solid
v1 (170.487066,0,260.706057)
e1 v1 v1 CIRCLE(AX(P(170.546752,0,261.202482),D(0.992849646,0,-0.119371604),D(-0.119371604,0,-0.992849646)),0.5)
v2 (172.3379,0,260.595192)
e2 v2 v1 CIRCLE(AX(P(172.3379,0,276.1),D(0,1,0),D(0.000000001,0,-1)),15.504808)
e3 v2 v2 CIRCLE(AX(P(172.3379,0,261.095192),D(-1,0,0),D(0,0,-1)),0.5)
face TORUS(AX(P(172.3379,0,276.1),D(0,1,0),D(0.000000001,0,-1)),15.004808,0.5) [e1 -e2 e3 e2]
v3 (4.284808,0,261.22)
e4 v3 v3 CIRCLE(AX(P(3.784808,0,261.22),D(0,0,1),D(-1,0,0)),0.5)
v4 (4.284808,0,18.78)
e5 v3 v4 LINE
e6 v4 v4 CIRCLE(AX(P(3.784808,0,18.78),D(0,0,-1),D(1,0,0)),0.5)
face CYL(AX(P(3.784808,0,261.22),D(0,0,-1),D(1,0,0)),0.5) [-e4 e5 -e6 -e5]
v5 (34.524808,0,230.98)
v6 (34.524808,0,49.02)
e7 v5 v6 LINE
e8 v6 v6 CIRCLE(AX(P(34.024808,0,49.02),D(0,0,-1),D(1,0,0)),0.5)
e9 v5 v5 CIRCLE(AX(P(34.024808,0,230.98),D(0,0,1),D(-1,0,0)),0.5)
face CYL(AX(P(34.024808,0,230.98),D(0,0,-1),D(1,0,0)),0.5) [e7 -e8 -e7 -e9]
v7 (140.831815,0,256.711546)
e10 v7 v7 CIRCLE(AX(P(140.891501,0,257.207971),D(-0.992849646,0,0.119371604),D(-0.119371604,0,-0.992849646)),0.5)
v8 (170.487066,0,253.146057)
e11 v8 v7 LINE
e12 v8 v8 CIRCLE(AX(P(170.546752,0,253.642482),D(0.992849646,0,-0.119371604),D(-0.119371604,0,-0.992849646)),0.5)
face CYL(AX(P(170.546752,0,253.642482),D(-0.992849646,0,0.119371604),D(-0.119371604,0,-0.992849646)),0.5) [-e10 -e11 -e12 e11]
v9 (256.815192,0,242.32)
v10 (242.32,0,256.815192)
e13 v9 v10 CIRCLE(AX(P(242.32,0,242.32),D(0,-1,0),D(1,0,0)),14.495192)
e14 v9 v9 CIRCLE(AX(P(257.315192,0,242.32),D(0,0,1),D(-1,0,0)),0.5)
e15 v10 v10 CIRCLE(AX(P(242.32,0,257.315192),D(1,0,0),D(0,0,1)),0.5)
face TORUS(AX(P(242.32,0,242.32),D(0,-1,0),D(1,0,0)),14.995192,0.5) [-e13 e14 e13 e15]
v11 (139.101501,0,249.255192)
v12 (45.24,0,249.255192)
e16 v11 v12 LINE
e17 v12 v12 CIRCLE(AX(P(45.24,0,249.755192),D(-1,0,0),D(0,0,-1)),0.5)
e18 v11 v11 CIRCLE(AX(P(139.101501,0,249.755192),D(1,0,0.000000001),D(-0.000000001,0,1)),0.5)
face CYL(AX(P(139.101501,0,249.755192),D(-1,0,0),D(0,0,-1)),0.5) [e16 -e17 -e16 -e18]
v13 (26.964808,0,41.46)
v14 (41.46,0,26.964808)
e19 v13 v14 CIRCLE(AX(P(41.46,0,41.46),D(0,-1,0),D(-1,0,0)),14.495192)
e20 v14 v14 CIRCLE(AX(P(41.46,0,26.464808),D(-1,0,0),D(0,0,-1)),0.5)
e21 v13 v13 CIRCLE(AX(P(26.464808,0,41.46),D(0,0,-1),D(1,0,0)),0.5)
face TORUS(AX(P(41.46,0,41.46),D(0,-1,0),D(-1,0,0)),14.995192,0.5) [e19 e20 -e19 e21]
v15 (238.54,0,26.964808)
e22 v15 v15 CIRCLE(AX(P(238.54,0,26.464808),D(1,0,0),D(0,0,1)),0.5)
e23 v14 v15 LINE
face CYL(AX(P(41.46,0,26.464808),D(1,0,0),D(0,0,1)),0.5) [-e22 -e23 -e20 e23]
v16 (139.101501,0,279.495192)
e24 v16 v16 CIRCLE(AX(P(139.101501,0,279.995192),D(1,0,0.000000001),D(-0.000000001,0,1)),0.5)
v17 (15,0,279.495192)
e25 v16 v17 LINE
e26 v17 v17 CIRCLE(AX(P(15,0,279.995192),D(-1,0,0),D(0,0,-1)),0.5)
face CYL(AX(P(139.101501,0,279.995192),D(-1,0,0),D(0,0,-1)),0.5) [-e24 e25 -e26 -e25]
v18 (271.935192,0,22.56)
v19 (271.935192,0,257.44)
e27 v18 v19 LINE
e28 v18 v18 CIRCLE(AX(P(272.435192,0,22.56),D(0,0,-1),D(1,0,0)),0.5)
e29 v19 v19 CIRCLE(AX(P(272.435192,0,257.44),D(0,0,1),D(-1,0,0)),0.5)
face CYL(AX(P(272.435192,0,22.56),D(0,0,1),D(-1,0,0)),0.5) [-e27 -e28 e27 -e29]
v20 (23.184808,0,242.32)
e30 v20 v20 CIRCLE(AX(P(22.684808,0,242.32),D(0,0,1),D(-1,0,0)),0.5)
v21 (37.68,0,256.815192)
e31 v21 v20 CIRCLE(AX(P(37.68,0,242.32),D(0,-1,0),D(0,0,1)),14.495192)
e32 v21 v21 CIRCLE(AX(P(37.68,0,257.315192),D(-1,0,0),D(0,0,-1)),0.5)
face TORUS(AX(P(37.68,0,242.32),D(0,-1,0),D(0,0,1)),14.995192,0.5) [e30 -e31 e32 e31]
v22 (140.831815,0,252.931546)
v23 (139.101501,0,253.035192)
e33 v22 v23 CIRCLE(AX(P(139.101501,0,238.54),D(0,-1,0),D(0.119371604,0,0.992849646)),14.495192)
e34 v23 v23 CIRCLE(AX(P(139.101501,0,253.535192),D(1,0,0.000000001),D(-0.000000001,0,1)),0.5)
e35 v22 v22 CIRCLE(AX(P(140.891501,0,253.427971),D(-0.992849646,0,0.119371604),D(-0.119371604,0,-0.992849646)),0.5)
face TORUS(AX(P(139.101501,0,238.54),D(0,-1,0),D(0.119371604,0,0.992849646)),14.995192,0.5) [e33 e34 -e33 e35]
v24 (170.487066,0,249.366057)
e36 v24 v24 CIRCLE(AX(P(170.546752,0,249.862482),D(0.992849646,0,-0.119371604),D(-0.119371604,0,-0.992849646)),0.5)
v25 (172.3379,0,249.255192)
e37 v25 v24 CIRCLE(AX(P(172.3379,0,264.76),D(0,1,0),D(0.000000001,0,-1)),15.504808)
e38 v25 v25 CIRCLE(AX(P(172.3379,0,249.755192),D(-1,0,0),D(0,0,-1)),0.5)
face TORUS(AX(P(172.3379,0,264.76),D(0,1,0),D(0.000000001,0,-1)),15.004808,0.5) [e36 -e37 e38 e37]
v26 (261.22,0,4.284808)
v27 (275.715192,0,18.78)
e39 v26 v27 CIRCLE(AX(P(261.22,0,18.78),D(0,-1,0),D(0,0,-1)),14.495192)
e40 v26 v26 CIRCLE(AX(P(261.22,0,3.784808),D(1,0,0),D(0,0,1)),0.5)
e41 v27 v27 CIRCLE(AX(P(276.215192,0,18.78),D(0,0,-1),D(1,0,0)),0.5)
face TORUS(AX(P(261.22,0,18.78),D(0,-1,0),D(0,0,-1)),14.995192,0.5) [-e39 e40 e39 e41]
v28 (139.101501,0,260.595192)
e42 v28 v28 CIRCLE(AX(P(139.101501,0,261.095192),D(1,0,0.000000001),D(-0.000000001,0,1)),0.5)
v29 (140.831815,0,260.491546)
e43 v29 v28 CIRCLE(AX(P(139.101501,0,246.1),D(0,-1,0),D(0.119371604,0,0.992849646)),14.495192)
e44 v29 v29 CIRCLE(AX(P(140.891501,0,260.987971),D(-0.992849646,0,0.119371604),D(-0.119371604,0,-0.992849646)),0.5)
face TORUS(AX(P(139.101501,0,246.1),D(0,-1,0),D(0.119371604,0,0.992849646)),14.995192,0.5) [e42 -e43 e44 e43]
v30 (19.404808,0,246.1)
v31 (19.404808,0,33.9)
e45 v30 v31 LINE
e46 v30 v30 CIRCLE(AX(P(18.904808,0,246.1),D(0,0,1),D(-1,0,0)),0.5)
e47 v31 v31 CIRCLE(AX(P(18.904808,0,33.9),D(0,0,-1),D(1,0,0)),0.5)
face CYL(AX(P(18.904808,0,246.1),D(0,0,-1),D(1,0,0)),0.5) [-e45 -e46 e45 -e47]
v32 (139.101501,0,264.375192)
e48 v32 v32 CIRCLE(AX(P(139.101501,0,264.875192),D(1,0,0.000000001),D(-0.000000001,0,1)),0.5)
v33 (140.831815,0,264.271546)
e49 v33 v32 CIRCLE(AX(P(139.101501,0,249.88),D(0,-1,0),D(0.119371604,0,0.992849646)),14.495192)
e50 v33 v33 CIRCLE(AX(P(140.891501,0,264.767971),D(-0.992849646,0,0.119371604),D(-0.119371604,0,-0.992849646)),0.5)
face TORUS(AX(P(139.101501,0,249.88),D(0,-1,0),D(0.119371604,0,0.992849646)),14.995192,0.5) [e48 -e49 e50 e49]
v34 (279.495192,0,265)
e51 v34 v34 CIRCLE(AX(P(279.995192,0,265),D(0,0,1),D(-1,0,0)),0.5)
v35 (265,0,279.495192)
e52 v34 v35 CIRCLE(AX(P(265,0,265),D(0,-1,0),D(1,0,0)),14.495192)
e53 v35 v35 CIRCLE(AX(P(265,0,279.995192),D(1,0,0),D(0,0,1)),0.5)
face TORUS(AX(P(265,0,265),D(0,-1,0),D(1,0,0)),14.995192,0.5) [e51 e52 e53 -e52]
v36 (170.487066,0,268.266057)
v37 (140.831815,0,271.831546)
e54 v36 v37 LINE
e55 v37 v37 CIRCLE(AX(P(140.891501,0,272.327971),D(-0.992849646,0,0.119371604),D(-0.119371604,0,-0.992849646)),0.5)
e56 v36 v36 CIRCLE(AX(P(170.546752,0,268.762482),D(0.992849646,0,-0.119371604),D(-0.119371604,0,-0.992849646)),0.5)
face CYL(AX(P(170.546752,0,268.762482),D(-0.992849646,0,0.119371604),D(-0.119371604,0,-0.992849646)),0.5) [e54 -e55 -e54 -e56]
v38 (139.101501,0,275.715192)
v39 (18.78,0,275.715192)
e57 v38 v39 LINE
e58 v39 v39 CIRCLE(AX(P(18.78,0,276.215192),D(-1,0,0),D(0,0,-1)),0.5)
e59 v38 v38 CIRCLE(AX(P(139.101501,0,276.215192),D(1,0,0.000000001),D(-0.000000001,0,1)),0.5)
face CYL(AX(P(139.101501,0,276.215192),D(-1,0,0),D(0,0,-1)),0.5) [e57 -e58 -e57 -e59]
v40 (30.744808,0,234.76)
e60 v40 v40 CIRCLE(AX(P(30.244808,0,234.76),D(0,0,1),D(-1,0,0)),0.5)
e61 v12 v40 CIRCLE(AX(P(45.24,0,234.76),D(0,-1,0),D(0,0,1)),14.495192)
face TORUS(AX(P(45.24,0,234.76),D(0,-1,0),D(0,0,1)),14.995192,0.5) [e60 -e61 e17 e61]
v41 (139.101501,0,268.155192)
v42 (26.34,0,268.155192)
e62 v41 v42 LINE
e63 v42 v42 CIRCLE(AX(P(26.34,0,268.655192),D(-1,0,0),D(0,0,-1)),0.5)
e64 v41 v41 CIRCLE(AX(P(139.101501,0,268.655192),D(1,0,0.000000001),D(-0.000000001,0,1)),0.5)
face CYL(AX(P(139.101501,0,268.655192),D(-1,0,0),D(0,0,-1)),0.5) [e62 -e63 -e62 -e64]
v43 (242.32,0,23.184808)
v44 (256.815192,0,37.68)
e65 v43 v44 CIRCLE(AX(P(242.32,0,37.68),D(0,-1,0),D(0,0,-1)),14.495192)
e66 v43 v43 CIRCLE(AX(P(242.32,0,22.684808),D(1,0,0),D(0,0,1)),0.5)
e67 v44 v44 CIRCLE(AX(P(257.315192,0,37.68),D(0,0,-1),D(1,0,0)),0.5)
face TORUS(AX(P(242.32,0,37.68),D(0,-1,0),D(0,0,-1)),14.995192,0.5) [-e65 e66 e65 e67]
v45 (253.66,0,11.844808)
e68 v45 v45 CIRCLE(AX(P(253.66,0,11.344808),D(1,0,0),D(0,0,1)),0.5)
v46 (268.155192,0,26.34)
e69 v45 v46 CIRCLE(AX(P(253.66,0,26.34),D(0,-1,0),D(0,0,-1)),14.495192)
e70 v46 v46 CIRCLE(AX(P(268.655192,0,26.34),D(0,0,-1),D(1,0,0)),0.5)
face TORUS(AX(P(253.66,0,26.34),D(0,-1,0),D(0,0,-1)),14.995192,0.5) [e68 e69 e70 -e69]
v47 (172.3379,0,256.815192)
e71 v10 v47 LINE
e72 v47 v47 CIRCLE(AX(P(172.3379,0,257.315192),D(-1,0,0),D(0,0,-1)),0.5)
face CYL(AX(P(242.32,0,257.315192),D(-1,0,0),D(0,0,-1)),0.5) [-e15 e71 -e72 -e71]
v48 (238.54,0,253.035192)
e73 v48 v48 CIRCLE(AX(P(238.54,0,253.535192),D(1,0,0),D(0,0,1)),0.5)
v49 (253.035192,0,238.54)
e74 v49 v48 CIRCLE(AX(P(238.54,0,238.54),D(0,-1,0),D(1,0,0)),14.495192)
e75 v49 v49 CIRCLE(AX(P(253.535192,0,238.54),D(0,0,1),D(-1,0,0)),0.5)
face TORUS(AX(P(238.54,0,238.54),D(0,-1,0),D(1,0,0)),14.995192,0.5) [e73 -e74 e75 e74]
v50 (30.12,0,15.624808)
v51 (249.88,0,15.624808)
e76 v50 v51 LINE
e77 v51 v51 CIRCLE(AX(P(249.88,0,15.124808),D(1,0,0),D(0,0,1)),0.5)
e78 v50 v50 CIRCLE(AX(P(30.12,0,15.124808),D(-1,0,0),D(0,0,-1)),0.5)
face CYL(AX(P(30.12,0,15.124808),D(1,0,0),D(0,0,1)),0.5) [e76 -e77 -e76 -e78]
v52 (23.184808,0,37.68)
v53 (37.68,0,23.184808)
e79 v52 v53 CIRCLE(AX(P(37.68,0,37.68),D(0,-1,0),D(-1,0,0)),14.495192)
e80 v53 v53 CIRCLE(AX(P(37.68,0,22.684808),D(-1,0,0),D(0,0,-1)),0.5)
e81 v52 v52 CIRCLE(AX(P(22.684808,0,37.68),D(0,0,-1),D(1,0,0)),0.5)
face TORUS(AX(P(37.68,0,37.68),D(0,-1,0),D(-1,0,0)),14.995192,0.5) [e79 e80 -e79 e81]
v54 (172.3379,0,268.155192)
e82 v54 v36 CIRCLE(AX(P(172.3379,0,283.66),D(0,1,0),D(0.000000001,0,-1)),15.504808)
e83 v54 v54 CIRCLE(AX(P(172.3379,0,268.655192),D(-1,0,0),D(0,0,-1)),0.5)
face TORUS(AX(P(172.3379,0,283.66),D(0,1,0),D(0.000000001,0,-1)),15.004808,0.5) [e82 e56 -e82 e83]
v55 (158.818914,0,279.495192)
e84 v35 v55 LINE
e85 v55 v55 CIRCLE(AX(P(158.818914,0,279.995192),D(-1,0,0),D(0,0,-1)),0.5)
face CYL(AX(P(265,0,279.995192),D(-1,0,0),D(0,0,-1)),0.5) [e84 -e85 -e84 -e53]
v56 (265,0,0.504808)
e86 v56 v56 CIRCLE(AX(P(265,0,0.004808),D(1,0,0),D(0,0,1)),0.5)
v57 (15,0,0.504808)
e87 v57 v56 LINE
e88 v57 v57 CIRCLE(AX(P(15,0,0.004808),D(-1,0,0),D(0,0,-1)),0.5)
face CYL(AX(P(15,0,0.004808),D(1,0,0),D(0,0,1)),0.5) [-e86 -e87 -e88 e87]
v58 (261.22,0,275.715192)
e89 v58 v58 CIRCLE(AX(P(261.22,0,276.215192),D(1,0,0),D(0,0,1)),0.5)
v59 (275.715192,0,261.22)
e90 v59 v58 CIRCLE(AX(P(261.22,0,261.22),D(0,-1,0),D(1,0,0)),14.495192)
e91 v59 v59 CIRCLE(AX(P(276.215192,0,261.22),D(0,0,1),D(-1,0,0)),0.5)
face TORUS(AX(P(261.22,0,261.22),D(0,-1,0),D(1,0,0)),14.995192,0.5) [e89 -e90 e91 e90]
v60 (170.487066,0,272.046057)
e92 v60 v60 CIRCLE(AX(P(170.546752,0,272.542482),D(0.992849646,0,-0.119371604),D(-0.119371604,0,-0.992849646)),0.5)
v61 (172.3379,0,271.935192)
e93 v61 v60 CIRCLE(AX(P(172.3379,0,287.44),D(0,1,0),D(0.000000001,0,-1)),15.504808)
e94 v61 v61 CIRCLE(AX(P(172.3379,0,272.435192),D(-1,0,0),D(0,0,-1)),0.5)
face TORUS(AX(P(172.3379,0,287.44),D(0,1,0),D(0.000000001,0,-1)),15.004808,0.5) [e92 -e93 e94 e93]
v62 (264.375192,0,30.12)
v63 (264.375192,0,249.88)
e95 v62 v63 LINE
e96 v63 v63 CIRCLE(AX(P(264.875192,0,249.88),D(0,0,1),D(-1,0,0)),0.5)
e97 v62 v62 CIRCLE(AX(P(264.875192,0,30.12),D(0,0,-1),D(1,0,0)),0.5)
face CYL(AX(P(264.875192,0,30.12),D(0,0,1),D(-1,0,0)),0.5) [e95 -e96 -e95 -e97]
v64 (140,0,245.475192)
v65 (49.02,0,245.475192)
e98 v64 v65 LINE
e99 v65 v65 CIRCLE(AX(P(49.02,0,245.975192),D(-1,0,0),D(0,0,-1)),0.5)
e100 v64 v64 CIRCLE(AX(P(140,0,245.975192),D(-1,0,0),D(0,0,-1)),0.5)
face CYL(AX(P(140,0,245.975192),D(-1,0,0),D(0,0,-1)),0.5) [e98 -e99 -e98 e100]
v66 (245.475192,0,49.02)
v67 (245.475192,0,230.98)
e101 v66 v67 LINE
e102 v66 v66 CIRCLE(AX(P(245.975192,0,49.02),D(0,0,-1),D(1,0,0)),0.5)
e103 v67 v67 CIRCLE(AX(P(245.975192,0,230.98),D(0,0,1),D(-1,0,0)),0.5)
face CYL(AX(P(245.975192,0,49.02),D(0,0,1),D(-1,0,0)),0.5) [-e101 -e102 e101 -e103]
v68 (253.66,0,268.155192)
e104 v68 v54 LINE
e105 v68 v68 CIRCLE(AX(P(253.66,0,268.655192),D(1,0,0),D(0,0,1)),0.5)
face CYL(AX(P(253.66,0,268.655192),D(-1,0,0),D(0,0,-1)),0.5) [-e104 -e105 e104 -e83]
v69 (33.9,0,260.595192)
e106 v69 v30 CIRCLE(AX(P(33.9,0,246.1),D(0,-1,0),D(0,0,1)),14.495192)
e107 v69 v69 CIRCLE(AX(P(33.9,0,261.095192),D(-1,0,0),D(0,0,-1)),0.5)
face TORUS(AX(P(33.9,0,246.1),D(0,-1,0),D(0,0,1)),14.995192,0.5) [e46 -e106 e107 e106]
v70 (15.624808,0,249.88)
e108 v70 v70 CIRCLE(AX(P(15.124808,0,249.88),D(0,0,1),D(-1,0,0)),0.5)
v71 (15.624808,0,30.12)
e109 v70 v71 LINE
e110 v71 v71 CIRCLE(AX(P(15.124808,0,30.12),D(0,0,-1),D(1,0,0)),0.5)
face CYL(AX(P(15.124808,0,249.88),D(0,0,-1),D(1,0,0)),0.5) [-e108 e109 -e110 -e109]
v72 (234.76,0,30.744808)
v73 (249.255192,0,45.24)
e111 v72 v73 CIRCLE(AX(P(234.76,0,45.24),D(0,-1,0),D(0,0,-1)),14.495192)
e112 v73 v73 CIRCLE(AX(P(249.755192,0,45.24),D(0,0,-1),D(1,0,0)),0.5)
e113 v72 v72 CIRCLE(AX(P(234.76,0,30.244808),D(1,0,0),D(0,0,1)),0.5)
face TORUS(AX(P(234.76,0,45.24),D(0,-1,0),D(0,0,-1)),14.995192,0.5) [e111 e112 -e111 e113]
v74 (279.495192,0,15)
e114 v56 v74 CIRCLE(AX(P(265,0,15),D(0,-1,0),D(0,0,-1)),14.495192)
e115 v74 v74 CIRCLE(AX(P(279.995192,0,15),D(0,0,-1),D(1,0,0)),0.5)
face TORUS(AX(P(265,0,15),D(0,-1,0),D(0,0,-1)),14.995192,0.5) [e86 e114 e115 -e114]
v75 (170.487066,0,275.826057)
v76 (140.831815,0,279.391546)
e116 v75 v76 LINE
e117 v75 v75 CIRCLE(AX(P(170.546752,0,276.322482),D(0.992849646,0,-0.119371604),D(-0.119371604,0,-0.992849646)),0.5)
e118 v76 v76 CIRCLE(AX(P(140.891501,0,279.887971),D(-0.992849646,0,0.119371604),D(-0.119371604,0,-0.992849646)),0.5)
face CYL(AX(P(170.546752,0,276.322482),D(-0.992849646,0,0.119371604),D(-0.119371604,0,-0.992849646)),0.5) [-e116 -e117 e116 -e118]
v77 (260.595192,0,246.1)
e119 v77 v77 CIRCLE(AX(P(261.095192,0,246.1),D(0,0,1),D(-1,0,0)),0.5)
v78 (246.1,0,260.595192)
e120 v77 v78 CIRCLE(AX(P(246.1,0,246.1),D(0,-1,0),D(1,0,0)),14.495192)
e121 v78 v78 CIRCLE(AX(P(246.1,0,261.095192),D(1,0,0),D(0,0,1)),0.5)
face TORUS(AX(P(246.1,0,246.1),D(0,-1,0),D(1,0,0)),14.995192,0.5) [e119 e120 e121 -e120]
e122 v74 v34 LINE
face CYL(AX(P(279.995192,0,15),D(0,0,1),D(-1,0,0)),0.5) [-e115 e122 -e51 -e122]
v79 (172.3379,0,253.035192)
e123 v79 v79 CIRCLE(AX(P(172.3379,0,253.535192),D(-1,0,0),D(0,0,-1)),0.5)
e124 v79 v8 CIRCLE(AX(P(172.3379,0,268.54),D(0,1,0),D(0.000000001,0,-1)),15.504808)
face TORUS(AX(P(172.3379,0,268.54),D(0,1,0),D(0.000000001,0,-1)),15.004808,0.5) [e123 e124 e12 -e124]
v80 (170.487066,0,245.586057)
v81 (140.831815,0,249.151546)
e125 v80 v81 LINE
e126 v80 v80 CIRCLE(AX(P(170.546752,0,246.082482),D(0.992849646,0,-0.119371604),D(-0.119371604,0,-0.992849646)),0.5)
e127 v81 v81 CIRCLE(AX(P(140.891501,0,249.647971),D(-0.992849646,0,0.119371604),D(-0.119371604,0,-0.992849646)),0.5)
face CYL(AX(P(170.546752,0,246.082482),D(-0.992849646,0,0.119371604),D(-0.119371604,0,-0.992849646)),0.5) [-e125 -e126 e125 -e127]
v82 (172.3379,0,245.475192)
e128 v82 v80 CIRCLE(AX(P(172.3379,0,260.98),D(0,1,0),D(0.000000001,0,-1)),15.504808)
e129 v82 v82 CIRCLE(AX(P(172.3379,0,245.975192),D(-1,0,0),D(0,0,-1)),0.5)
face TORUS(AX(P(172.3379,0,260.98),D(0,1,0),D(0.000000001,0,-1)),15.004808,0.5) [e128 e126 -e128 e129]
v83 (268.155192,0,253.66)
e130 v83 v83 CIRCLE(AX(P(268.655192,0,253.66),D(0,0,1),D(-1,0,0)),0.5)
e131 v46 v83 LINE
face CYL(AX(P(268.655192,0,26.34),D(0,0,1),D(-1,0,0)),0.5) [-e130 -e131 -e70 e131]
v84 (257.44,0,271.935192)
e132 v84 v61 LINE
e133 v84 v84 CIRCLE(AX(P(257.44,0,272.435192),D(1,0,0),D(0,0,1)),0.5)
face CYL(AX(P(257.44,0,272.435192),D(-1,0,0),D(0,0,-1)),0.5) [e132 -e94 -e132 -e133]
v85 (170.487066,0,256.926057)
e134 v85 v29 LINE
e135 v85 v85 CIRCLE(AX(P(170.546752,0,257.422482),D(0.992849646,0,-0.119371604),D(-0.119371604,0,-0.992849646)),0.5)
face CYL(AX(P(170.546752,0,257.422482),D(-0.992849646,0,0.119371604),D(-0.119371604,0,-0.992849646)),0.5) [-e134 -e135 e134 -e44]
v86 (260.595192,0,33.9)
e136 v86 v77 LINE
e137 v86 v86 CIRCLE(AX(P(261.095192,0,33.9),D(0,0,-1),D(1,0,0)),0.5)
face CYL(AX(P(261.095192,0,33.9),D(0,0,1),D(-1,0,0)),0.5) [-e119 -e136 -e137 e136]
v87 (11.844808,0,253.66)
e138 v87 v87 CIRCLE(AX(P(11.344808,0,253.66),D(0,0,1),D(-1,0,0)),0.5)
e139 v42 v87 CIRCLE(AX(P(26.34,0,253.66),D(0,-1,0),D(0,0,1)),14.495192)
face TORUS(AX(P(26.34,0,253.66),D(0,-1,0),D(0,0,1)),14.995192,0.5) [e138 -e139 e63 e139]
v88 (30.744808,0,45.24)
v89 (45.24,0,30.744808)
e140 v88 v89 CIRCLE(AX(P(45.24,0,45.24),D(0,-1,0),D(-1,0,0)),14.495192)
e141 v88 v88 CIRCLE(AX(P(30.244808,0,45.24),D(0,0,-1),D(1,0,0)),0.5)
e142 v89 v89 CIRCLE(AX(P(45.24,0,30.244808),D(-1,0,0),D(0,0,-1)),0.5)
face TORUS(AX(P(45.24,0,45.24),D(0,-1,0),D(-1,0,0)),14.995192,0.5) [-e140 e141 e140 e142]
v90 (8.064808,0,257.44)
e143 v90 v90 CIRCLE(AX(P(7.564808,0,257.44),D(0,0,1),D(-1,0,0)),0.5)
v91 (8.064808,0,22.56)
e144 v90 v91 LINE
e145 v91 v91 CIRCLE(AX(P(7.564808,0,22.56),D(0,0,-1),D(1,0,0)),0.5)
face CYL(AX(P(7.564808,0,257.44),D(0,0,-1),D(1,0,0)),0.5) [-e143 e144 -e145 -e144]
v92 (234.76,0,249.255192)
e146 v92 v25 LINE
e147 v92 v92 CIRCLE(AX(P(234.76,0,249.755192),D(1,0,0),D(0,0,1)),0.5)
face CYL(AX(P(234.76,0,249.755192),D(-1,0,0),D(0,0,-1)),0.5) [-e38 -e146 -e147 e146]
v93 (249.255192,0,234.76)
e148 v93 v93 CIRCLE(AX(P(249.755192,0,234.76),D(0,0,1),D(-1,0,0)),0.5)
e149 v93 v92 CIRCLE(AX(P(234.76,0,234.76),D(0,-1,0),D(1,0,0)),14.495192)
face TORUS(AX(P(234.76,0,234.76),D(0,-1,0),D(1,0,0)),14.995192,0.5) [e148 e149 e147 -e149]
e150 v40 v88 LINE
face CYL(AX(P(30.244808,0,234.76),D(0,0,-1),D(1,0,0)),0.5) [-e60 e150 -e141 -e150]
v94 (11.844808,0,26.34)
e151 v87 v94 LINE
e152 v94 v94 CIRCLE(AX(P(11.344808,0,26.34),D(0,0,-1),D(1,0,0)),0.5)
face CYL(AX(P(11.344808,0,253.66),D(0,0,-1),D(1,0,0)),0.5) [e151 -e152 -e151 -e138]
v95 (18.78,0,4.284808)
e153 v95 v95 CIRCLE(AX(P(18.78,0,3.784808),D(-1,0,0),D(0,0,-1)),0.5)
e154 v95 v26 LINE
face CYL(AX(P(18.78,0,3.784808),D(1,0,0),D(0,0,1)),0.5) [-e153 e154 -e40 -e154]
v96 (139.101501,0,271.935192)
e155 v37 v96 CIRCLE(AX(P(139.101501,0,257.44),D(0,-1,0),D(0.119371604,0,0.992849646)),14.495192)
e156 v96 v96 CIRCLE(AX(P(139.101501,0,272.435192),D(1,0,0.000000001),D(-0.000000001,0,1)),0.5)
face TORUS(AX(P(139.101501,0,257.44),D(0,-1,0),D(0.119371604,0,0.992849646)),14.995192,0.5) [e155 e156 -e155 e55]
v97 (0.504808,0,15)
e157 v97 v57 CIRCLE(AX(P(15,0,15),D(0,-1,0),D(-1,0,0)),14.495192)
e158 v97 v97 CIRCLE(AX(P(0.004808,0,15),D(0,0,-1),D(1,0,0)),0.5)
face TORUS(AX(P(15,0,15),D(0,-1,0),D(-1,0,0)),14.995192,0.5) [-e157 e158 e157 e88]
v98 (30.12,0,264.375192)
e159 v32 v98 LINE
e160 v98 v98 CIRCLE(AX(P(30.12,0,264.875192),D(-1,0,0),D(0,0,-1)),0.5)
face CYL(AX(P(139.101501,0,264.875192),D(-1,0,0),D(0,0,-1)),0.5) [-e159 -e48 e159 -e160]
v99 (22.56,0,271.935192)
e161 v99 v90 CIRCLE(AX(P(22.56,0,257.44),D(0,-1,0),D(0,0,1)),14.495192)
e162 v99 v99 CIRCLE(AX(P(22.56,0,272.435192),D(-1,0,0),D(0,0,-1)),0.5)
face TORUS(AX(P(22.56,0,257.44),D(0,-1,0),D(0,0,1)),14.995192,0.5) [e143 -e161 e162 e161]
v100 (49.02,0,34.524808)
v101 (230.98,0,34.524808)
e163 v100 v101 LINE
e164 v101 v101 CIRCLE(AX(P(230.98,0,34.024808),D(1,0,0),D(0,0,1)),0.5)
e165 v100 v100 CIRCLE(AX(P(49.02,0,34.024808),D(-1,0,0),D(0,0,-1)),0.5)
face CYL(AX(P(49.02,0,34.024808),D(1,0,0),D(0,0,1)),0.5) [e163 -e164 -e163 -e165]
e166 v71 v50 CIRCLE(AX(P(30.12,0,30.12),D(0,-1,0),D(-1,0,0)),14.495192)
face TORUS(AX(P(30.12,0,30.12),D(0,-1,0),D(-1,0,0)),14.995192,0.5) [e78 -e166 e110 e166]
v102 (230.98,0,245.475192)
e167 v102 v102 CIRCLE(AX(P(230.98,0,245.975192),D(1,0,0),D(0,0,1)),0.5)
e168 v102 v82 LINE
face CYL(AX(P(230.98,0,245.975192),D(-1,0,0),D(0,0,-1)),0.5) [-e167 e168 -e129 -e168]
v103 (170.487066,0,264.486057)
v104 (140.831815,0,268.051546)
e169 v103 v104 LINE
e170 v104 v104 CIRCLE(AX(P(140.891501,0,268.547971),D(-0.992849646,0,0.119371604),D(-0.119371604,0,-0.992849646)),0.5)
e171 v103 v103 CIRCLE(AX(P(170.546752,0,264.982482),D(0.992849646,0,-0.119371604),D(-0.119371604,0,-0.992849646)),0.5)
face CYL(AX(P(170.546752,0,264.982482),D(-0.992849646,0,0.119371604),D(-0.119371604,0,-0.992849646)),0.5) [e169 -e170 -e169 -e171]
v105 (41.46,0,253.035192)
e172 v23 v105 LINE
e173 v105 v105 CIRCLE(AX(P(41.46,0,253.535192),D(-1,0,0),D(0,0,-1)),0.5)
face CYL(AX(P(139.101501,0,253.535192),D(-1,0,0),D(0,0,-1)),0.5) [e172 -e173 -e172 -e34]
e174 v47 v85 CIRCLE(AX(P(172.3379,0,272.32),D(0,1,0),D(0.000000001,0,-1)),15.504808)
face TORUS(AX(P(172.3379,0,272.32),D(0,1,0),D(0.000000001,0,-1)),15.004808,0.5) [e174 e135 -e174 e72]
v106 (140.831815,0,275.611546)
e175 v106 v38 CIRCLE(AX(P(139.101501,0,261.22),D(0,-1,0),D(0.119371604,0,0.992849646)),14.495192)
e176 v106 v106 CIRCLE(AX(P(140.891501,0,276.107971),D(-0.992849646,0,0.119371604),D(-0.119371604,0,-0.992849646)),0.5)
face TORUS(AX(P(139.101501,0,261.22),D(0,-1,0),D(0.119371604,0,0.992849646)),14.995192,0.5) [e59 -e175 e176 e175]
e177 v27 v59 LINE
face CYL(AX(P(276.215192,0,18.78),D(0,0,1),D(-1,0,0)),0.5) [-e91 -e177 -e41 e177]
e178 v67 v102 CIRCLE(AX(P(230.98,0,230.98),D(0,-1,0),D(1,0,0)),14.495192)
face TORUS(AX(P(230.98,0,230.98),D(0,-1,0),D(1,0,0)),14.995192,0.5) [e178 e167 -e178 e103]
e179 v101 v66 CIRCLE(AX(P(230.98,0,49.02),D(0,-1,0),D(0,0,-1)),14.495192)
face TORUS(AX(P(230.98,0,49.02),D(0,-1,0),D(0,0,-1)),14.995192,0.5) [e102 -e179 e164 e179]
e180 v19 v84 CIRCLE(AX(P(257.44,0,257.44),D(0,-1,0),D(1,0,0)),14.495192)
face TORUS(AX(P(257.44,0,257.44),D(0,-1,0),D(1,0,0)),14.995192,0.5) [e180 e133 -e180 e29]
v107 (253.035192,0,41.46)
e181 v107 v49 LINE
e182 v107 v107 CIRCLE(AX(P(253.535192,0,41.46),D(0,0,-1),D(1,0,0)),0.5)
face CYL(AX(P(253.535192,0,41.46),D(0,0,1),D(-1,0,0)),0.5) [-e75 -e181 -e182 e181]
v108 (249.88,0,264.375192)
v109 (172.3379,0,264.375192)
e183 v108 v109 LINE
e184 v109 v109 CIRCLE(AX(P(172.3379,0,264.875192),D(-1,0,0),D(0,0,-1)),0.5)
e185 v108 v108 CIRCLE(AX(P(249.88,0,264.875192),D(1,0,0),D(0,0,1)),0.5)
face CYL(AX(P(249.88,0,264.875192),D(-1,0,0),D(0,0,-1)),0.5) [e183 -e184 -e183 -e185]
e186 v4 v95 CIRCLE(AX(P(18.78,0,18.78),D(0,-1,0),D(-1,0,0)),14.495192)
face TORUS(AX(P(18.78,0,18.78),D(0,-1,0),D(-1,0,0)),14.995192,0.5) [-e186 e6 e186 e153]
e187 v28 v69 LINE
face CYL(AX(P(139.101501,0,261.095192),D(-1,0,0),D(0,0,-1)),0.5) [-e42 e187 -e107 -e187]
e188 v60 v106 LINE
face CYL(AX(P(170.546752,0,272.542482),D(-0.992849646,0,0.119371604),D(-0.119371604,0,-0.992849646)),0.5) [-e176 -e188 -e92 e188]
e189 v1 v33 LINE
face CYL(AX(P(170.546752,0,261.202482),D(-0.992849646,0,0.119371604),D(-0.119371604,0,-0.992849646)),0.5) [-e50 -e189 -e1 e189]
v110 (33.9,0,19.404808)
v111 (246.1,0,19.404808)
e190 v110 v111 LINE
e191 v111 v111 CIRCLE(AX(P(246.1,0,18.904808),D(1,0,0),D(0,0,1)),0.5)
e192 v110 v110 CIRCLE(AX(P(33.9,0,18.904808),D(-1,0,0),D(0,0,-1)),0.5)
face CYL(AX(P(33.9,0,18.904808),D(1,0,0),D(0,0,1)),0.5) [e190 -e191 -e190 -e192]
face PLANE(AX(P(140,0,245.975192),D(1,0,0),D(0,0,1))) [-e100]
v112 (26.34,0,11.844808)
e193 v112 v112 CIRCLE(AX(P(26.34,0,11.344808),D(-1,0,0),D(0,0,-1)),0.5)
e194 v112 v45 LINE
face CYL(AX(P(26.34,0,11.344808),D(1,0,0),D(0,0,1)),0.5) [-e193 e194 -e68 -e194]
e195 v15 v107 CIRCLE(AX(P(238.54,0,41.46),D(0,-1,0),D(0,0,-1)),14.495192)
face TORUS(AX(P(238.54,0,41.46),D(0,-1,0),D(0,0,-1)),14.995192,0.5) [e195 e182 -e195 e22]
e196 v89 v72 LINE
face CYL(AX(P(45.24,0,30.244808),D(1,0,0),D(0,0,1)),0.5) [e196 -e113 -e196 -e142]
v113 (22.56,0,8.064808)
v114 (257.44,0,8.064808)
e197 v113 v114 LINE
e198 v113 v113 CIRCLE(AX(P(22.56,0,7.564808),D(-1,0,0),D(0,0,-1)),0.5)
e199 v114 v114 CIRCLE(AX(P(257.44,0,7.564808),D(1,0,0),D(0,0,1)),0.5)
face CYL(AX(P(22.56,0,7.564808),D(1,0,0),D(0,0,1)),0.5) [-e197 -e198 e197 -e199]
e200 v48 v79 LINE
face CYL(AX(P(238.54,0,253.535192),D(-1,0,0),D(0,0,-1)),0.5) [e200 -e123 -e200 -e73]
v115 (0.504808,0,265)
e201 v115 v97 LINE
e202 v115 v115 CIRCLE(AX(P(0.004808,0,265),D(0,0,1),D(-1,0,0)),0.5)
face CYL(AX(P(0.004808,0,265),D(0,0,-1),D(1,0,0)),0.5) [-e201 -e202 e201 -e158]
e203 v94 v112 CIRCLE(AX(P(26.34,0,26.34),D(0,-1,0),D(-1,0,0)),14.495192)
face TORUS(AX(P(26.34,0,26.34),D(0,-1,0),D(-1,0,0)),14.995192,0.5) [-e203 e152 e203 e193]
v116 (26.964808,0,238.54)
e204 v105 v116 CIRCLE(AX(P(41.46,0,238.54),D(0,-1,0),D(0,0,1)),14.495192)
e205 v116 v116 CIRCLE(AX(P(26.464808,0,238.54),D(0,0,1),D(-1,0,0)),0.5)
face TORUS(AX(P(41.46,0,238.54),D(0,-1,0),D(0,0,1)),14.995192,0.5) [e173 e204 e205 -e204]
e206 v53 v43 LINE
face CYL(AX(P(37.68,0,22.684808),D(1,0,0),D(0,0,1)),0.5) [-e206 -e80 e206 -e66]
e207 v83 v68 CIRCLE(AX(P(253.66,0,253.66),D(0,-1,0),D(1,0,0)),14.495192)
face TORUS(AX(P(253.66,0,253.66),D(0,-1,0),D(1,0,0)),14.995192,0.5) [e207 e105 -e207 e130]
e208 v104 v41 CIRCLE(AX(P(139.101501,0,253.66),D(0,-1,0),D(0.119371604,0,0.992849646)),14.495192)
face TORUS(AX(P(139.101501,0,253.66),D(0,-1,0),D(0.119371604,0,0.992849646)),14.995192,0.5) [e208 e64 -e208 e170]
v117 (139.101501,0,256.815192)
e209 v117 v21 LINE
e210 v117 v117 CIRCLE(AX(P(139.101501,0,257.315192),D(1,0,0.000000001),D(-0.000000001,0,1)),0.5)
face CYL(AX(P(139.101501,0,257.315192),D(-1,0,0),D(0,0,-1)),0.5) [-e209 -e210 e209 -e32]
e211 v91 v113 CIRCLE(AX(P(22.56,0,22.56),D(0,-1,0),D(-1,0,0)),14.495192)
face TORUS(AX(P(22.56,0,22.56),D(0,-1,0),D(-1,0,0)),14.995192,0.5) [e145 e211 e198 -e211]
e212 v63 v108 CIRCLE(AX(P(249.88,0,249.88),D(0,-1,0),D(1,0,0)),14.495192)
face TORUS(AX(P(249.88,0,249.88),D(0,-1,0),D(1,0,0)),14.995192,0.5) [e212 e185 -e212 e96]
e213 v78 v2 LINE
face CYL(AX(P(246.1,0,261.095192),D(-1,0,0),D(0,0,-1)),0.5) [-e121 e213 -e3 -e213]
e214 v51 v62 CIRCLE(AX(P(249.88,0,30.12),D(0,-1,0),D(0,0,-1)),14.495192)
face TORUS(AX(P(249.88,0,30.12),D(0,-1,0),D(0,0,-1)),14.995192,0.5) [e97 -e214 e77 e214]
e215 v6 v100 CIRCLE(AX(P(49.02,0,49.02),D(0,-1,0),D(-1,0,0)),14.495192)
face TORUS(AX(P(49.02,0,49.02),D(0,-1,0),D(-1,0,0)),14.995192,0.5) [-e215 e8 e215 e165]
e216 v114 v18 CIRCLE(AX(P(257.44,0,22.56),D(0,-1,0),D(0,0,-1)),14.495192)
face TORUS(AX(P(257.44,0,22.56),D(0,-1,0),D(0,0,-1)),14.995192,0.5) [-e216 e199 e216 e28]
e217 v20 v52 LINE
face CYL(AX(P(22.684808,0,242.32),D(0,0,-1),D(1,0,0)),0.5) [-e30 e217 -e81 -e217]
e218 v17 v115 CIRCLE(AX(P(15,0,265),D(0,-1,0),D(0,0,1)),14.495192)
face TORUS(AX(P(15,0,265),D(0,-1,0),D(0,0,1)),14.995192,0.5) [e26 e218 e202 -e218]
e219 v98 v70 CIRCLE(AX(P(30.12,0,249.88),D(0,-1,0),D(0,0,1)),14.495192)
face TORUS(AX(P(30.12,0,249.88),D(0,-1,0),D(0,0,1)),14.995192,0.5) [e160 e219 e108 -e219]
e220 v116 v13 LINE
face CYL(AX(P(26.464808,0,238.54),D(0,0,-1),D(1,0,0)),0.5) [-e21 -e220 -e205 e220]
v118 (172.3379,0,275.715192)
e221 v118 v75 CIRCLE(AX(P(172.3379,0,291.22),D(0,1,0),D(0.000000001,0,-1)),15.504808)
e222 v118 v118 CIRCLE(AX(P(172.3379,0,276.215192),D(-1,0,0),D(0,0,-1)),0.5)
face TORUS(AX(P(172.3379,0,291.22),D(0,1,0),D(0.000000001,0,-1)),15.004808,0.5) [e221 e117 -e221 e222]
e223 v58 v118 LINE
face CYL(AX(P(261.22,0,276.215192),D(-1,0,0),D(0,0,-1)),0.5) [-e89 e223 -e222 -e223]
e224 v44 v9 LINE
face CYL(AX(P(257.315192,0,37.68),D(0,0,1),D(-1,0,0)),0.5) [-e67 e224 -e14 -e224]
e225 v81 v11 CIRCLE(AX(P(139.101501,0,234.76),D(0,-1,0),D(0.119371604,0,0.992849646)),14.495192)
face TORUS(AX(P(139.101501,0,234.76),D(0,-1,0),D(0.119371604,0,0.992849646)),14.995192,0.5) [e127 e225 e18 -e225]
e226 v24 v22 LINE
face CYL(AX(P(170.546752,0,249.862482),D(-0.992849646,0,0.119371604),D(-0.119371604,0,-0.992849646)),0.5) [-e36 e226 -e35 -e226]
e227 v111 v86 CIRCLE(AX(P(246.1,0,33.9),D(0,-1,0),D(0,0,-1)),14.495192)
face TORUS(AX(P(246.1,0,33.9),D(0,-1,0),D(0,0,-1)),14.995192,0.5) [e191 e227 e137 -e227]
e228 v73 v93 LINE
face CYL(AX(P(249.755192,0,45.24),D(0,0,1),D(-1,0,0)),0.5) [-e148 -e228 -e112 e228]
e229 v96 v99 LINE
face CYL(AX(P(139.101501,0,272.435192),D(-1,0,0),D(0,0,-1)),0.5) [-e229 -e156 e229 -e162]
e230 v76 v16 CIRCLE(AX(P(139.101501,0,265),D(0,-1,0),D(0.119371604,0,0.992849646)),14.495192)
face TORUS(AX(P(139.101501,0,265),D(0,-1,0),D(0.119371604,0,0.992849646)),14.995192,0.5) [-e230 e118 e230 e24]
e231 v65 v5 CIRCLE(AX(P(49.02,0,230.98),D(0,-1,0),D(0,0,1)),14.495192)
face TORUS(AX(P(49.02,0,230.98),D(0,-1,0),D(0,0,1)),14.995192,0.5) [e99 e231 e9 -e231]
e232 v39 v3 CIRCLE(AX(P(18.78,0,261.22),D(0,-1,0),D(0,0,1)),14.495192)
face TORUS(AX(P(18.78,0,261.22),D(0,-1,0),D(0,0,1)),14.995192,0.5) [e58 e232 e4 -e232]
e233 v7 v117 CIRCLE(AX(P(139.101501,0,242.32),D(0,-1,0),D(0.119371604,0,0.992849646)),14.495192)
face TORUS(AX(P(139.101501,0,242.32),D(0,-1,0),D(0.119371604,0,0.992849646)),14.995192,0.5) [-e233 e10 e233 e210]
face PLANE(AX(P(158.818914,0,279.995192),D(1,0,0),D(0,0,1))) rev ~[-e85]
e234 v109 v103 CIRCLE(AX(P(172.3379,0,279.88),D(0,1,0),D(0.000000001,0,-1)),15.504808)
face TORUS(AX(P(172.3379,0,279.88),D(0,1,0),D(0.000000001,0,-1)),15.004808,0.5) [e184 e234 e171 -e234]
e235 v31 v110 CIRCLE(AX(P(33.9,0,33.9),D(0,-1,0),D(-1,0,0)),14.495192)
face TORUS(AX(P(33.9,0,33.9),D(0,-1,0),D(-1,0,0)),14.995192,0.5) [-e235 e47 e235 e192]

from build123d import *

# Parameters (mm, degrees)
SKETCH_2_R = 0.5


with BuildPart() as part:
    # 扫描1: sweep along a path in 草图1
    with BuildLine(Plane(origin=(0, 0, 0), x_dir=(1, 0, 0), z_dir=(0, 1, 0))) as sweep_1_path:
        Line((140, -245.98), (49.02, -245.98))
        ThreePointArc((49.02, -245.98), (38.413398282, -241.586601718), (34.02, -230.98))
        Line((34.02, -230.98), (34.02, -49.02))
        ThreePointArc((34.02, -49.02), (38.413398282, -38.413398282), (49.02, -34.02))
        Line((49.02, -34.02), (230.98, -34.02))
        ThreePointArc((230.98, -34.02), (241.586601718, -38.413398282), (245.98, -49.02))
        Line((245.98, -49.02), (245.98, -230.98))
        ThreePointArc((245.98, -230.98), (241.586601718, -241.586601718), (230.98, -245.98))
        Line((230.98, -245.98), (172.337899837, -245.98))
        ThreePointArc((172.337899837, -245.98), (171.441008099, -246.006837835), (170.547325779, -246.087255305))
        Line((170.547325779, -246.087255305), (140.892074735, -249.652744695))
        ThreePointArc((140.892074735, -249.652744695), (139.998392415, -249.733162165), (139.101500677, -249.76))
        Line((139.101500677, -249.76), (45.24, -249.76))
        ThreePointArc((45.24, -249.76), (34.633398282, -245.366601718), (30.24, -234.76))
        Line((30.24, -234.76), (30.24, -45.24))
        ThreePointArc((30.24, -45.24), (34.633398282, -34.633398282), (45.24, -30.24))
        Line((45.24, -30.24), (234.76, -30.24))
        ThreePointArc((234.76, -30.24), (245.366601718, -34.633398282), (249.76, -45.24))
        Line((249.76, -45.24), (249.76, -234.76))
        ThreePointArc((249.76, -234.76), (245.366601718, -245.366601718), (234.76, -249.76))
        Line((234.76, -249.76), (172.337899837, -249.76))
        ThreePointArc((172.337899837, -249.76), (171.441008099, -249.786837835), (170.547325779, -249.867255305))
        Line((170.547325779, -249.867255305), (140.892074735, -253.432744695))
        ThreePointArc((140.892074735, -253.432744695), (139.998392415, -253.513162165), (139.101500677, -253.54))
        Line((139.101500677, -253.54), (41.46, -253.54))
        ThreePointArc((41.46, -253.54), (30.853398282, -249.146601718), (26.46, -238.54))
        Line((26.46, -238.54), (26.46, -41.46))
        ThreePointArc((26.46, -41.46), (30.853398282, -30.853398282), (41.46, -26.46))
        Line((41.46, -26.46), (238.54, -26.46))
        ThreePointArc((238.54, -26.46), (249.146601718, -30.853398282), (253.54, -41.46))
        Line((253.54, -41.46), (253.54, -238.54))
        ThreePointArc((253.54, -238.54), (249.146601718, -249.146601718), (238.54, -253.54))
        Line((238.54, -253.54), (172.337899837, -253.54))
        ThreePointArc((172.337899837, -253.54), (171.441008099, -253.566837835), (170.547325779, -253.647255305))
        Line((170.547325779, -253.647255305), (140.892074735, -257.212744695))
        ThreePointArc((140.892074735, -257.212744695), (139.998392415, -257.293162165), (139.101500677, -257.32))
        Line((139.101500677, -257.32), (37.68, -257.32))
        ThreePointArc((37.68, -257.32), (27.073398282, -252.926601718), (22.68, -242.32))
        Line((22.68, -242.32), (22.68, -37.68))
        ThreePointArc((22.68, -37.68), (27.073398282, -27.073398282), (37.68, -22.68))
        Line((37.68, -22.68), (242.32, -22.68))
        ThreePointArc((242.32, -22.68), (252.926601718, -27.073398282), (257.32, -37.68))
        Line((257.32, -37.68), (257.32, -242.32))
        ThreePointArc((257.32, -242.32), (252.926601718, -252.926601718), (242.32, -257.32))
        Line((242.32, -257.32), (172.337899837, -257.32))
        ThreePointArc((172.337899837, -257.32), (171.441008099, -257.346837835), (170.547325779, -257.427255305))
        Line((170.547325779, -257.427255305), (140.892074735, -260.992744695))
        ThreePointArc((140.892074735, -260.992744695), (139.998392415, -261.073162165), (139.101500677, -261.1))
        Line((139.101500677, -261.1), (33.9, -261.1))
        ThreePointArc((33.9, -261.1), (23.293398282, -256.706601718), (18.9, -246.1))
        Line((18.9, -246.1), (18.9, -33.9))
        ThreePointArc((18.9, -33.9), (23.293398282, -23.293398282), (33.9, -18.9))
        Line((33.9, -18.9), (246.1, -18.9))
        ThreePointArc((246.1, -18.9), (256.706601718, -23.293398282), (261.1, -33.9))
        Line((261.1, -33.9), (261.1, -246.1))
        ThreePointArc((261.1, -246.1), (256.706601718, -256.706601718), (246.1, -261.1))
        Line((246.1, -261.1), (172.337899837, -261.1))
        ThreePointArc((172.337899837, -261.1), (171.441008099, -261.126837835), (170.547325779, -261.207255305))
        Line((170.547325779, -261.207255305), (140.892074735, -264.772744695))
        ThreePointArc((140.892074735, -264.772744695), (139.998392415, -264.853162165), (139.101500677, -264.88))
        Line((139.101500677, -264.88), (30.12, -264.88))
        ThreePointArc((30.12, -264.88), (19.513398282, -260.486601718), (15.12, -249.88))
        Line((15.12, -249.88), (15.12, -30.12))
        ThreePointArc((15.12, -30.12), (19.513398282, -19.513398282), (30.12, -15.12))
        Line((30.12, -15.12), (249.88, -15.12))
        ThreePointArc((249.88, -15.12), (260.486601718, -19.513398282), (264.88, -30.12))
        Line((264.88, -30.12), (264.88, -249.88))
        ThreePointArc((264.88, -249.88), (260.486601718, -260.486601718), (249.88, -264.88))
        Line((249.88, -264.88), (172.337899837, -264.88))
        ThreePointArc((172.337899837, -264.88), (171.441008099, -264.906837835), (170.547325779, -264.987255305))
        Line((170.547325779, -264.987255305), (140.892074735, -268.552744695))
        ThreePointArc((140.892074735, -268.552744695), (139.998392415, -268.633162165), (139.101500677, -268.66))
        Line((139.101500677, -268.66), (26.34, -268.66))
        ThreePointArc((26.34, -268.66), (15.733398282, -264.266601718), (11.34, -253.66))
        Line((11.34, -253.66), (11.34, -26.34))
        ThreePointArc((11.34, -26.34), (15.733398282, -15.733398282), (26.34, -11.34))
        Line((26.34, -11.34), (253.66, -11.34))
        ThreePointArc((253.66, -11.34), (264.266601718, -15.733398282), (268.66, -26.34))
        Line((268.66, -26.34), (268.66, -253.66))
        ThreePointArc((268.66, -253.66), (264.266601718, -264.266601718), (253.66, -268.66))
        Line((253.66, -268.66), (172.337899837, -268.66))
        ThreePointArc((172.337899837, -268.66), (171.441008099, -268.686837835), (170.547325779, -268.767255305))
        Line((170.547325779, -268.767255305), (140.892074735, -272.332744695))
        ThreePointArc((140.892074735, -272.332744695), (139.998392415, -272.413162165), (139.101500677, -272.44))
        Line((139.101500677, -272.44), (22.56, -272.44))
        ThreePointArc((22.56, -272.44), (11.953398282, -268.046601718), (7.56, -257.44))
        Line((7.56, -257.44), (7.56, -22.56))
        ThreePointArc((7.56, -22.56), (11.953398282, -11.953398282), (22.56, -7.56))
        Line((22.56, -7.56), (257.44, -7.56))
        ThreePointArc((257.44, -7.56), (268.046601718, -11.953398282), (272.44, -22.56))
        Line((272.44, -22.56), (272.44, -257.44))
        ThreePointArc((272.44, -257.44), (268.046601718, -268.046601718), (257.44, -272.44))
        Line((257.44, -272.44), (172.337899837, -272.44))
        ThreePointArc((172.337899837, -272.44), (171.441008099, -272.466837835), (170.547325779, -272.547255305))
        Line((170.547325779, -272.547255305), (140.892074735, -276.112744695))
        ThreePointArc((140.892074735, -276.112744695), (139.998392415, -276.193162165), (139.101500677, -276.22))
        Line((139.101500677, -276.22), (18.78, -276.22))
        ThreePointArc((18.78, -276.22), (8.173398282, -271.826601718), (3.78, -261.22))
        Line((3.78, -261.22), (3.78, -18.78))
        ThreePointArc((3.78, -18.78), (8.173398282, -8.173398282), (18.78, -3.78))
        Line((18.78, -3.78), (261.22, -3.78))
        ThreePointArc((261.22, -3.78), (271.826601718, -8.173398282), (276.22, -18.78))
        Line((276.22, -18.78), (276.22, -261.22))
        ThreePointArc((276.22, -261.22), (271.826601718, -271.826601718), (261.22, -276.22))
        Line((261.22, -276.22), (172.337899837, -276.22))
        ThreePointArc((172.337899837, -276.22), (171.441008099, -276.246837835), (170.547325779, -276.327255305))
        Line((170.547325779, -276.327255305), (140.892074735, -279.892744695))
        ThreePointArc((140.892074735, -279.892744695), (139.998392415, -279.973162165), (139.101500677, -280))
        Line((139.101500677, -280), (15, -280))
        ThreePointArc((15, -280), (4.393398282, -275.606601718), (0, -265))
        Line((0, -265), (0, -15))
        ThreePointArc((0, -15), (4.393398282, -4.393398282), (15, 0))
        Line((15, 0), (265, 0))
        ThreePointArc((265, 0), (275.606601718, -4.393398282), (280, -15))
        Line((280, -15), (280, -265))
        ThreePointArc((280, -265), (275.606601718, -275.606601718), (265, -280))
        Line((265, -280), (158.818914353, -280))
    # 草图2 → 扫描1 (sweep)
    with BuildSketch(Plane(origin=(140, 0, 0), x_dir=(0, 0, -1), z_dir=(1, 0, 0))):
        with Locations((-245.975192104, 0)):
            Circle(SKETCH_2_R)
    sweep(path=sweep_1_path.line)


solid = part.part
